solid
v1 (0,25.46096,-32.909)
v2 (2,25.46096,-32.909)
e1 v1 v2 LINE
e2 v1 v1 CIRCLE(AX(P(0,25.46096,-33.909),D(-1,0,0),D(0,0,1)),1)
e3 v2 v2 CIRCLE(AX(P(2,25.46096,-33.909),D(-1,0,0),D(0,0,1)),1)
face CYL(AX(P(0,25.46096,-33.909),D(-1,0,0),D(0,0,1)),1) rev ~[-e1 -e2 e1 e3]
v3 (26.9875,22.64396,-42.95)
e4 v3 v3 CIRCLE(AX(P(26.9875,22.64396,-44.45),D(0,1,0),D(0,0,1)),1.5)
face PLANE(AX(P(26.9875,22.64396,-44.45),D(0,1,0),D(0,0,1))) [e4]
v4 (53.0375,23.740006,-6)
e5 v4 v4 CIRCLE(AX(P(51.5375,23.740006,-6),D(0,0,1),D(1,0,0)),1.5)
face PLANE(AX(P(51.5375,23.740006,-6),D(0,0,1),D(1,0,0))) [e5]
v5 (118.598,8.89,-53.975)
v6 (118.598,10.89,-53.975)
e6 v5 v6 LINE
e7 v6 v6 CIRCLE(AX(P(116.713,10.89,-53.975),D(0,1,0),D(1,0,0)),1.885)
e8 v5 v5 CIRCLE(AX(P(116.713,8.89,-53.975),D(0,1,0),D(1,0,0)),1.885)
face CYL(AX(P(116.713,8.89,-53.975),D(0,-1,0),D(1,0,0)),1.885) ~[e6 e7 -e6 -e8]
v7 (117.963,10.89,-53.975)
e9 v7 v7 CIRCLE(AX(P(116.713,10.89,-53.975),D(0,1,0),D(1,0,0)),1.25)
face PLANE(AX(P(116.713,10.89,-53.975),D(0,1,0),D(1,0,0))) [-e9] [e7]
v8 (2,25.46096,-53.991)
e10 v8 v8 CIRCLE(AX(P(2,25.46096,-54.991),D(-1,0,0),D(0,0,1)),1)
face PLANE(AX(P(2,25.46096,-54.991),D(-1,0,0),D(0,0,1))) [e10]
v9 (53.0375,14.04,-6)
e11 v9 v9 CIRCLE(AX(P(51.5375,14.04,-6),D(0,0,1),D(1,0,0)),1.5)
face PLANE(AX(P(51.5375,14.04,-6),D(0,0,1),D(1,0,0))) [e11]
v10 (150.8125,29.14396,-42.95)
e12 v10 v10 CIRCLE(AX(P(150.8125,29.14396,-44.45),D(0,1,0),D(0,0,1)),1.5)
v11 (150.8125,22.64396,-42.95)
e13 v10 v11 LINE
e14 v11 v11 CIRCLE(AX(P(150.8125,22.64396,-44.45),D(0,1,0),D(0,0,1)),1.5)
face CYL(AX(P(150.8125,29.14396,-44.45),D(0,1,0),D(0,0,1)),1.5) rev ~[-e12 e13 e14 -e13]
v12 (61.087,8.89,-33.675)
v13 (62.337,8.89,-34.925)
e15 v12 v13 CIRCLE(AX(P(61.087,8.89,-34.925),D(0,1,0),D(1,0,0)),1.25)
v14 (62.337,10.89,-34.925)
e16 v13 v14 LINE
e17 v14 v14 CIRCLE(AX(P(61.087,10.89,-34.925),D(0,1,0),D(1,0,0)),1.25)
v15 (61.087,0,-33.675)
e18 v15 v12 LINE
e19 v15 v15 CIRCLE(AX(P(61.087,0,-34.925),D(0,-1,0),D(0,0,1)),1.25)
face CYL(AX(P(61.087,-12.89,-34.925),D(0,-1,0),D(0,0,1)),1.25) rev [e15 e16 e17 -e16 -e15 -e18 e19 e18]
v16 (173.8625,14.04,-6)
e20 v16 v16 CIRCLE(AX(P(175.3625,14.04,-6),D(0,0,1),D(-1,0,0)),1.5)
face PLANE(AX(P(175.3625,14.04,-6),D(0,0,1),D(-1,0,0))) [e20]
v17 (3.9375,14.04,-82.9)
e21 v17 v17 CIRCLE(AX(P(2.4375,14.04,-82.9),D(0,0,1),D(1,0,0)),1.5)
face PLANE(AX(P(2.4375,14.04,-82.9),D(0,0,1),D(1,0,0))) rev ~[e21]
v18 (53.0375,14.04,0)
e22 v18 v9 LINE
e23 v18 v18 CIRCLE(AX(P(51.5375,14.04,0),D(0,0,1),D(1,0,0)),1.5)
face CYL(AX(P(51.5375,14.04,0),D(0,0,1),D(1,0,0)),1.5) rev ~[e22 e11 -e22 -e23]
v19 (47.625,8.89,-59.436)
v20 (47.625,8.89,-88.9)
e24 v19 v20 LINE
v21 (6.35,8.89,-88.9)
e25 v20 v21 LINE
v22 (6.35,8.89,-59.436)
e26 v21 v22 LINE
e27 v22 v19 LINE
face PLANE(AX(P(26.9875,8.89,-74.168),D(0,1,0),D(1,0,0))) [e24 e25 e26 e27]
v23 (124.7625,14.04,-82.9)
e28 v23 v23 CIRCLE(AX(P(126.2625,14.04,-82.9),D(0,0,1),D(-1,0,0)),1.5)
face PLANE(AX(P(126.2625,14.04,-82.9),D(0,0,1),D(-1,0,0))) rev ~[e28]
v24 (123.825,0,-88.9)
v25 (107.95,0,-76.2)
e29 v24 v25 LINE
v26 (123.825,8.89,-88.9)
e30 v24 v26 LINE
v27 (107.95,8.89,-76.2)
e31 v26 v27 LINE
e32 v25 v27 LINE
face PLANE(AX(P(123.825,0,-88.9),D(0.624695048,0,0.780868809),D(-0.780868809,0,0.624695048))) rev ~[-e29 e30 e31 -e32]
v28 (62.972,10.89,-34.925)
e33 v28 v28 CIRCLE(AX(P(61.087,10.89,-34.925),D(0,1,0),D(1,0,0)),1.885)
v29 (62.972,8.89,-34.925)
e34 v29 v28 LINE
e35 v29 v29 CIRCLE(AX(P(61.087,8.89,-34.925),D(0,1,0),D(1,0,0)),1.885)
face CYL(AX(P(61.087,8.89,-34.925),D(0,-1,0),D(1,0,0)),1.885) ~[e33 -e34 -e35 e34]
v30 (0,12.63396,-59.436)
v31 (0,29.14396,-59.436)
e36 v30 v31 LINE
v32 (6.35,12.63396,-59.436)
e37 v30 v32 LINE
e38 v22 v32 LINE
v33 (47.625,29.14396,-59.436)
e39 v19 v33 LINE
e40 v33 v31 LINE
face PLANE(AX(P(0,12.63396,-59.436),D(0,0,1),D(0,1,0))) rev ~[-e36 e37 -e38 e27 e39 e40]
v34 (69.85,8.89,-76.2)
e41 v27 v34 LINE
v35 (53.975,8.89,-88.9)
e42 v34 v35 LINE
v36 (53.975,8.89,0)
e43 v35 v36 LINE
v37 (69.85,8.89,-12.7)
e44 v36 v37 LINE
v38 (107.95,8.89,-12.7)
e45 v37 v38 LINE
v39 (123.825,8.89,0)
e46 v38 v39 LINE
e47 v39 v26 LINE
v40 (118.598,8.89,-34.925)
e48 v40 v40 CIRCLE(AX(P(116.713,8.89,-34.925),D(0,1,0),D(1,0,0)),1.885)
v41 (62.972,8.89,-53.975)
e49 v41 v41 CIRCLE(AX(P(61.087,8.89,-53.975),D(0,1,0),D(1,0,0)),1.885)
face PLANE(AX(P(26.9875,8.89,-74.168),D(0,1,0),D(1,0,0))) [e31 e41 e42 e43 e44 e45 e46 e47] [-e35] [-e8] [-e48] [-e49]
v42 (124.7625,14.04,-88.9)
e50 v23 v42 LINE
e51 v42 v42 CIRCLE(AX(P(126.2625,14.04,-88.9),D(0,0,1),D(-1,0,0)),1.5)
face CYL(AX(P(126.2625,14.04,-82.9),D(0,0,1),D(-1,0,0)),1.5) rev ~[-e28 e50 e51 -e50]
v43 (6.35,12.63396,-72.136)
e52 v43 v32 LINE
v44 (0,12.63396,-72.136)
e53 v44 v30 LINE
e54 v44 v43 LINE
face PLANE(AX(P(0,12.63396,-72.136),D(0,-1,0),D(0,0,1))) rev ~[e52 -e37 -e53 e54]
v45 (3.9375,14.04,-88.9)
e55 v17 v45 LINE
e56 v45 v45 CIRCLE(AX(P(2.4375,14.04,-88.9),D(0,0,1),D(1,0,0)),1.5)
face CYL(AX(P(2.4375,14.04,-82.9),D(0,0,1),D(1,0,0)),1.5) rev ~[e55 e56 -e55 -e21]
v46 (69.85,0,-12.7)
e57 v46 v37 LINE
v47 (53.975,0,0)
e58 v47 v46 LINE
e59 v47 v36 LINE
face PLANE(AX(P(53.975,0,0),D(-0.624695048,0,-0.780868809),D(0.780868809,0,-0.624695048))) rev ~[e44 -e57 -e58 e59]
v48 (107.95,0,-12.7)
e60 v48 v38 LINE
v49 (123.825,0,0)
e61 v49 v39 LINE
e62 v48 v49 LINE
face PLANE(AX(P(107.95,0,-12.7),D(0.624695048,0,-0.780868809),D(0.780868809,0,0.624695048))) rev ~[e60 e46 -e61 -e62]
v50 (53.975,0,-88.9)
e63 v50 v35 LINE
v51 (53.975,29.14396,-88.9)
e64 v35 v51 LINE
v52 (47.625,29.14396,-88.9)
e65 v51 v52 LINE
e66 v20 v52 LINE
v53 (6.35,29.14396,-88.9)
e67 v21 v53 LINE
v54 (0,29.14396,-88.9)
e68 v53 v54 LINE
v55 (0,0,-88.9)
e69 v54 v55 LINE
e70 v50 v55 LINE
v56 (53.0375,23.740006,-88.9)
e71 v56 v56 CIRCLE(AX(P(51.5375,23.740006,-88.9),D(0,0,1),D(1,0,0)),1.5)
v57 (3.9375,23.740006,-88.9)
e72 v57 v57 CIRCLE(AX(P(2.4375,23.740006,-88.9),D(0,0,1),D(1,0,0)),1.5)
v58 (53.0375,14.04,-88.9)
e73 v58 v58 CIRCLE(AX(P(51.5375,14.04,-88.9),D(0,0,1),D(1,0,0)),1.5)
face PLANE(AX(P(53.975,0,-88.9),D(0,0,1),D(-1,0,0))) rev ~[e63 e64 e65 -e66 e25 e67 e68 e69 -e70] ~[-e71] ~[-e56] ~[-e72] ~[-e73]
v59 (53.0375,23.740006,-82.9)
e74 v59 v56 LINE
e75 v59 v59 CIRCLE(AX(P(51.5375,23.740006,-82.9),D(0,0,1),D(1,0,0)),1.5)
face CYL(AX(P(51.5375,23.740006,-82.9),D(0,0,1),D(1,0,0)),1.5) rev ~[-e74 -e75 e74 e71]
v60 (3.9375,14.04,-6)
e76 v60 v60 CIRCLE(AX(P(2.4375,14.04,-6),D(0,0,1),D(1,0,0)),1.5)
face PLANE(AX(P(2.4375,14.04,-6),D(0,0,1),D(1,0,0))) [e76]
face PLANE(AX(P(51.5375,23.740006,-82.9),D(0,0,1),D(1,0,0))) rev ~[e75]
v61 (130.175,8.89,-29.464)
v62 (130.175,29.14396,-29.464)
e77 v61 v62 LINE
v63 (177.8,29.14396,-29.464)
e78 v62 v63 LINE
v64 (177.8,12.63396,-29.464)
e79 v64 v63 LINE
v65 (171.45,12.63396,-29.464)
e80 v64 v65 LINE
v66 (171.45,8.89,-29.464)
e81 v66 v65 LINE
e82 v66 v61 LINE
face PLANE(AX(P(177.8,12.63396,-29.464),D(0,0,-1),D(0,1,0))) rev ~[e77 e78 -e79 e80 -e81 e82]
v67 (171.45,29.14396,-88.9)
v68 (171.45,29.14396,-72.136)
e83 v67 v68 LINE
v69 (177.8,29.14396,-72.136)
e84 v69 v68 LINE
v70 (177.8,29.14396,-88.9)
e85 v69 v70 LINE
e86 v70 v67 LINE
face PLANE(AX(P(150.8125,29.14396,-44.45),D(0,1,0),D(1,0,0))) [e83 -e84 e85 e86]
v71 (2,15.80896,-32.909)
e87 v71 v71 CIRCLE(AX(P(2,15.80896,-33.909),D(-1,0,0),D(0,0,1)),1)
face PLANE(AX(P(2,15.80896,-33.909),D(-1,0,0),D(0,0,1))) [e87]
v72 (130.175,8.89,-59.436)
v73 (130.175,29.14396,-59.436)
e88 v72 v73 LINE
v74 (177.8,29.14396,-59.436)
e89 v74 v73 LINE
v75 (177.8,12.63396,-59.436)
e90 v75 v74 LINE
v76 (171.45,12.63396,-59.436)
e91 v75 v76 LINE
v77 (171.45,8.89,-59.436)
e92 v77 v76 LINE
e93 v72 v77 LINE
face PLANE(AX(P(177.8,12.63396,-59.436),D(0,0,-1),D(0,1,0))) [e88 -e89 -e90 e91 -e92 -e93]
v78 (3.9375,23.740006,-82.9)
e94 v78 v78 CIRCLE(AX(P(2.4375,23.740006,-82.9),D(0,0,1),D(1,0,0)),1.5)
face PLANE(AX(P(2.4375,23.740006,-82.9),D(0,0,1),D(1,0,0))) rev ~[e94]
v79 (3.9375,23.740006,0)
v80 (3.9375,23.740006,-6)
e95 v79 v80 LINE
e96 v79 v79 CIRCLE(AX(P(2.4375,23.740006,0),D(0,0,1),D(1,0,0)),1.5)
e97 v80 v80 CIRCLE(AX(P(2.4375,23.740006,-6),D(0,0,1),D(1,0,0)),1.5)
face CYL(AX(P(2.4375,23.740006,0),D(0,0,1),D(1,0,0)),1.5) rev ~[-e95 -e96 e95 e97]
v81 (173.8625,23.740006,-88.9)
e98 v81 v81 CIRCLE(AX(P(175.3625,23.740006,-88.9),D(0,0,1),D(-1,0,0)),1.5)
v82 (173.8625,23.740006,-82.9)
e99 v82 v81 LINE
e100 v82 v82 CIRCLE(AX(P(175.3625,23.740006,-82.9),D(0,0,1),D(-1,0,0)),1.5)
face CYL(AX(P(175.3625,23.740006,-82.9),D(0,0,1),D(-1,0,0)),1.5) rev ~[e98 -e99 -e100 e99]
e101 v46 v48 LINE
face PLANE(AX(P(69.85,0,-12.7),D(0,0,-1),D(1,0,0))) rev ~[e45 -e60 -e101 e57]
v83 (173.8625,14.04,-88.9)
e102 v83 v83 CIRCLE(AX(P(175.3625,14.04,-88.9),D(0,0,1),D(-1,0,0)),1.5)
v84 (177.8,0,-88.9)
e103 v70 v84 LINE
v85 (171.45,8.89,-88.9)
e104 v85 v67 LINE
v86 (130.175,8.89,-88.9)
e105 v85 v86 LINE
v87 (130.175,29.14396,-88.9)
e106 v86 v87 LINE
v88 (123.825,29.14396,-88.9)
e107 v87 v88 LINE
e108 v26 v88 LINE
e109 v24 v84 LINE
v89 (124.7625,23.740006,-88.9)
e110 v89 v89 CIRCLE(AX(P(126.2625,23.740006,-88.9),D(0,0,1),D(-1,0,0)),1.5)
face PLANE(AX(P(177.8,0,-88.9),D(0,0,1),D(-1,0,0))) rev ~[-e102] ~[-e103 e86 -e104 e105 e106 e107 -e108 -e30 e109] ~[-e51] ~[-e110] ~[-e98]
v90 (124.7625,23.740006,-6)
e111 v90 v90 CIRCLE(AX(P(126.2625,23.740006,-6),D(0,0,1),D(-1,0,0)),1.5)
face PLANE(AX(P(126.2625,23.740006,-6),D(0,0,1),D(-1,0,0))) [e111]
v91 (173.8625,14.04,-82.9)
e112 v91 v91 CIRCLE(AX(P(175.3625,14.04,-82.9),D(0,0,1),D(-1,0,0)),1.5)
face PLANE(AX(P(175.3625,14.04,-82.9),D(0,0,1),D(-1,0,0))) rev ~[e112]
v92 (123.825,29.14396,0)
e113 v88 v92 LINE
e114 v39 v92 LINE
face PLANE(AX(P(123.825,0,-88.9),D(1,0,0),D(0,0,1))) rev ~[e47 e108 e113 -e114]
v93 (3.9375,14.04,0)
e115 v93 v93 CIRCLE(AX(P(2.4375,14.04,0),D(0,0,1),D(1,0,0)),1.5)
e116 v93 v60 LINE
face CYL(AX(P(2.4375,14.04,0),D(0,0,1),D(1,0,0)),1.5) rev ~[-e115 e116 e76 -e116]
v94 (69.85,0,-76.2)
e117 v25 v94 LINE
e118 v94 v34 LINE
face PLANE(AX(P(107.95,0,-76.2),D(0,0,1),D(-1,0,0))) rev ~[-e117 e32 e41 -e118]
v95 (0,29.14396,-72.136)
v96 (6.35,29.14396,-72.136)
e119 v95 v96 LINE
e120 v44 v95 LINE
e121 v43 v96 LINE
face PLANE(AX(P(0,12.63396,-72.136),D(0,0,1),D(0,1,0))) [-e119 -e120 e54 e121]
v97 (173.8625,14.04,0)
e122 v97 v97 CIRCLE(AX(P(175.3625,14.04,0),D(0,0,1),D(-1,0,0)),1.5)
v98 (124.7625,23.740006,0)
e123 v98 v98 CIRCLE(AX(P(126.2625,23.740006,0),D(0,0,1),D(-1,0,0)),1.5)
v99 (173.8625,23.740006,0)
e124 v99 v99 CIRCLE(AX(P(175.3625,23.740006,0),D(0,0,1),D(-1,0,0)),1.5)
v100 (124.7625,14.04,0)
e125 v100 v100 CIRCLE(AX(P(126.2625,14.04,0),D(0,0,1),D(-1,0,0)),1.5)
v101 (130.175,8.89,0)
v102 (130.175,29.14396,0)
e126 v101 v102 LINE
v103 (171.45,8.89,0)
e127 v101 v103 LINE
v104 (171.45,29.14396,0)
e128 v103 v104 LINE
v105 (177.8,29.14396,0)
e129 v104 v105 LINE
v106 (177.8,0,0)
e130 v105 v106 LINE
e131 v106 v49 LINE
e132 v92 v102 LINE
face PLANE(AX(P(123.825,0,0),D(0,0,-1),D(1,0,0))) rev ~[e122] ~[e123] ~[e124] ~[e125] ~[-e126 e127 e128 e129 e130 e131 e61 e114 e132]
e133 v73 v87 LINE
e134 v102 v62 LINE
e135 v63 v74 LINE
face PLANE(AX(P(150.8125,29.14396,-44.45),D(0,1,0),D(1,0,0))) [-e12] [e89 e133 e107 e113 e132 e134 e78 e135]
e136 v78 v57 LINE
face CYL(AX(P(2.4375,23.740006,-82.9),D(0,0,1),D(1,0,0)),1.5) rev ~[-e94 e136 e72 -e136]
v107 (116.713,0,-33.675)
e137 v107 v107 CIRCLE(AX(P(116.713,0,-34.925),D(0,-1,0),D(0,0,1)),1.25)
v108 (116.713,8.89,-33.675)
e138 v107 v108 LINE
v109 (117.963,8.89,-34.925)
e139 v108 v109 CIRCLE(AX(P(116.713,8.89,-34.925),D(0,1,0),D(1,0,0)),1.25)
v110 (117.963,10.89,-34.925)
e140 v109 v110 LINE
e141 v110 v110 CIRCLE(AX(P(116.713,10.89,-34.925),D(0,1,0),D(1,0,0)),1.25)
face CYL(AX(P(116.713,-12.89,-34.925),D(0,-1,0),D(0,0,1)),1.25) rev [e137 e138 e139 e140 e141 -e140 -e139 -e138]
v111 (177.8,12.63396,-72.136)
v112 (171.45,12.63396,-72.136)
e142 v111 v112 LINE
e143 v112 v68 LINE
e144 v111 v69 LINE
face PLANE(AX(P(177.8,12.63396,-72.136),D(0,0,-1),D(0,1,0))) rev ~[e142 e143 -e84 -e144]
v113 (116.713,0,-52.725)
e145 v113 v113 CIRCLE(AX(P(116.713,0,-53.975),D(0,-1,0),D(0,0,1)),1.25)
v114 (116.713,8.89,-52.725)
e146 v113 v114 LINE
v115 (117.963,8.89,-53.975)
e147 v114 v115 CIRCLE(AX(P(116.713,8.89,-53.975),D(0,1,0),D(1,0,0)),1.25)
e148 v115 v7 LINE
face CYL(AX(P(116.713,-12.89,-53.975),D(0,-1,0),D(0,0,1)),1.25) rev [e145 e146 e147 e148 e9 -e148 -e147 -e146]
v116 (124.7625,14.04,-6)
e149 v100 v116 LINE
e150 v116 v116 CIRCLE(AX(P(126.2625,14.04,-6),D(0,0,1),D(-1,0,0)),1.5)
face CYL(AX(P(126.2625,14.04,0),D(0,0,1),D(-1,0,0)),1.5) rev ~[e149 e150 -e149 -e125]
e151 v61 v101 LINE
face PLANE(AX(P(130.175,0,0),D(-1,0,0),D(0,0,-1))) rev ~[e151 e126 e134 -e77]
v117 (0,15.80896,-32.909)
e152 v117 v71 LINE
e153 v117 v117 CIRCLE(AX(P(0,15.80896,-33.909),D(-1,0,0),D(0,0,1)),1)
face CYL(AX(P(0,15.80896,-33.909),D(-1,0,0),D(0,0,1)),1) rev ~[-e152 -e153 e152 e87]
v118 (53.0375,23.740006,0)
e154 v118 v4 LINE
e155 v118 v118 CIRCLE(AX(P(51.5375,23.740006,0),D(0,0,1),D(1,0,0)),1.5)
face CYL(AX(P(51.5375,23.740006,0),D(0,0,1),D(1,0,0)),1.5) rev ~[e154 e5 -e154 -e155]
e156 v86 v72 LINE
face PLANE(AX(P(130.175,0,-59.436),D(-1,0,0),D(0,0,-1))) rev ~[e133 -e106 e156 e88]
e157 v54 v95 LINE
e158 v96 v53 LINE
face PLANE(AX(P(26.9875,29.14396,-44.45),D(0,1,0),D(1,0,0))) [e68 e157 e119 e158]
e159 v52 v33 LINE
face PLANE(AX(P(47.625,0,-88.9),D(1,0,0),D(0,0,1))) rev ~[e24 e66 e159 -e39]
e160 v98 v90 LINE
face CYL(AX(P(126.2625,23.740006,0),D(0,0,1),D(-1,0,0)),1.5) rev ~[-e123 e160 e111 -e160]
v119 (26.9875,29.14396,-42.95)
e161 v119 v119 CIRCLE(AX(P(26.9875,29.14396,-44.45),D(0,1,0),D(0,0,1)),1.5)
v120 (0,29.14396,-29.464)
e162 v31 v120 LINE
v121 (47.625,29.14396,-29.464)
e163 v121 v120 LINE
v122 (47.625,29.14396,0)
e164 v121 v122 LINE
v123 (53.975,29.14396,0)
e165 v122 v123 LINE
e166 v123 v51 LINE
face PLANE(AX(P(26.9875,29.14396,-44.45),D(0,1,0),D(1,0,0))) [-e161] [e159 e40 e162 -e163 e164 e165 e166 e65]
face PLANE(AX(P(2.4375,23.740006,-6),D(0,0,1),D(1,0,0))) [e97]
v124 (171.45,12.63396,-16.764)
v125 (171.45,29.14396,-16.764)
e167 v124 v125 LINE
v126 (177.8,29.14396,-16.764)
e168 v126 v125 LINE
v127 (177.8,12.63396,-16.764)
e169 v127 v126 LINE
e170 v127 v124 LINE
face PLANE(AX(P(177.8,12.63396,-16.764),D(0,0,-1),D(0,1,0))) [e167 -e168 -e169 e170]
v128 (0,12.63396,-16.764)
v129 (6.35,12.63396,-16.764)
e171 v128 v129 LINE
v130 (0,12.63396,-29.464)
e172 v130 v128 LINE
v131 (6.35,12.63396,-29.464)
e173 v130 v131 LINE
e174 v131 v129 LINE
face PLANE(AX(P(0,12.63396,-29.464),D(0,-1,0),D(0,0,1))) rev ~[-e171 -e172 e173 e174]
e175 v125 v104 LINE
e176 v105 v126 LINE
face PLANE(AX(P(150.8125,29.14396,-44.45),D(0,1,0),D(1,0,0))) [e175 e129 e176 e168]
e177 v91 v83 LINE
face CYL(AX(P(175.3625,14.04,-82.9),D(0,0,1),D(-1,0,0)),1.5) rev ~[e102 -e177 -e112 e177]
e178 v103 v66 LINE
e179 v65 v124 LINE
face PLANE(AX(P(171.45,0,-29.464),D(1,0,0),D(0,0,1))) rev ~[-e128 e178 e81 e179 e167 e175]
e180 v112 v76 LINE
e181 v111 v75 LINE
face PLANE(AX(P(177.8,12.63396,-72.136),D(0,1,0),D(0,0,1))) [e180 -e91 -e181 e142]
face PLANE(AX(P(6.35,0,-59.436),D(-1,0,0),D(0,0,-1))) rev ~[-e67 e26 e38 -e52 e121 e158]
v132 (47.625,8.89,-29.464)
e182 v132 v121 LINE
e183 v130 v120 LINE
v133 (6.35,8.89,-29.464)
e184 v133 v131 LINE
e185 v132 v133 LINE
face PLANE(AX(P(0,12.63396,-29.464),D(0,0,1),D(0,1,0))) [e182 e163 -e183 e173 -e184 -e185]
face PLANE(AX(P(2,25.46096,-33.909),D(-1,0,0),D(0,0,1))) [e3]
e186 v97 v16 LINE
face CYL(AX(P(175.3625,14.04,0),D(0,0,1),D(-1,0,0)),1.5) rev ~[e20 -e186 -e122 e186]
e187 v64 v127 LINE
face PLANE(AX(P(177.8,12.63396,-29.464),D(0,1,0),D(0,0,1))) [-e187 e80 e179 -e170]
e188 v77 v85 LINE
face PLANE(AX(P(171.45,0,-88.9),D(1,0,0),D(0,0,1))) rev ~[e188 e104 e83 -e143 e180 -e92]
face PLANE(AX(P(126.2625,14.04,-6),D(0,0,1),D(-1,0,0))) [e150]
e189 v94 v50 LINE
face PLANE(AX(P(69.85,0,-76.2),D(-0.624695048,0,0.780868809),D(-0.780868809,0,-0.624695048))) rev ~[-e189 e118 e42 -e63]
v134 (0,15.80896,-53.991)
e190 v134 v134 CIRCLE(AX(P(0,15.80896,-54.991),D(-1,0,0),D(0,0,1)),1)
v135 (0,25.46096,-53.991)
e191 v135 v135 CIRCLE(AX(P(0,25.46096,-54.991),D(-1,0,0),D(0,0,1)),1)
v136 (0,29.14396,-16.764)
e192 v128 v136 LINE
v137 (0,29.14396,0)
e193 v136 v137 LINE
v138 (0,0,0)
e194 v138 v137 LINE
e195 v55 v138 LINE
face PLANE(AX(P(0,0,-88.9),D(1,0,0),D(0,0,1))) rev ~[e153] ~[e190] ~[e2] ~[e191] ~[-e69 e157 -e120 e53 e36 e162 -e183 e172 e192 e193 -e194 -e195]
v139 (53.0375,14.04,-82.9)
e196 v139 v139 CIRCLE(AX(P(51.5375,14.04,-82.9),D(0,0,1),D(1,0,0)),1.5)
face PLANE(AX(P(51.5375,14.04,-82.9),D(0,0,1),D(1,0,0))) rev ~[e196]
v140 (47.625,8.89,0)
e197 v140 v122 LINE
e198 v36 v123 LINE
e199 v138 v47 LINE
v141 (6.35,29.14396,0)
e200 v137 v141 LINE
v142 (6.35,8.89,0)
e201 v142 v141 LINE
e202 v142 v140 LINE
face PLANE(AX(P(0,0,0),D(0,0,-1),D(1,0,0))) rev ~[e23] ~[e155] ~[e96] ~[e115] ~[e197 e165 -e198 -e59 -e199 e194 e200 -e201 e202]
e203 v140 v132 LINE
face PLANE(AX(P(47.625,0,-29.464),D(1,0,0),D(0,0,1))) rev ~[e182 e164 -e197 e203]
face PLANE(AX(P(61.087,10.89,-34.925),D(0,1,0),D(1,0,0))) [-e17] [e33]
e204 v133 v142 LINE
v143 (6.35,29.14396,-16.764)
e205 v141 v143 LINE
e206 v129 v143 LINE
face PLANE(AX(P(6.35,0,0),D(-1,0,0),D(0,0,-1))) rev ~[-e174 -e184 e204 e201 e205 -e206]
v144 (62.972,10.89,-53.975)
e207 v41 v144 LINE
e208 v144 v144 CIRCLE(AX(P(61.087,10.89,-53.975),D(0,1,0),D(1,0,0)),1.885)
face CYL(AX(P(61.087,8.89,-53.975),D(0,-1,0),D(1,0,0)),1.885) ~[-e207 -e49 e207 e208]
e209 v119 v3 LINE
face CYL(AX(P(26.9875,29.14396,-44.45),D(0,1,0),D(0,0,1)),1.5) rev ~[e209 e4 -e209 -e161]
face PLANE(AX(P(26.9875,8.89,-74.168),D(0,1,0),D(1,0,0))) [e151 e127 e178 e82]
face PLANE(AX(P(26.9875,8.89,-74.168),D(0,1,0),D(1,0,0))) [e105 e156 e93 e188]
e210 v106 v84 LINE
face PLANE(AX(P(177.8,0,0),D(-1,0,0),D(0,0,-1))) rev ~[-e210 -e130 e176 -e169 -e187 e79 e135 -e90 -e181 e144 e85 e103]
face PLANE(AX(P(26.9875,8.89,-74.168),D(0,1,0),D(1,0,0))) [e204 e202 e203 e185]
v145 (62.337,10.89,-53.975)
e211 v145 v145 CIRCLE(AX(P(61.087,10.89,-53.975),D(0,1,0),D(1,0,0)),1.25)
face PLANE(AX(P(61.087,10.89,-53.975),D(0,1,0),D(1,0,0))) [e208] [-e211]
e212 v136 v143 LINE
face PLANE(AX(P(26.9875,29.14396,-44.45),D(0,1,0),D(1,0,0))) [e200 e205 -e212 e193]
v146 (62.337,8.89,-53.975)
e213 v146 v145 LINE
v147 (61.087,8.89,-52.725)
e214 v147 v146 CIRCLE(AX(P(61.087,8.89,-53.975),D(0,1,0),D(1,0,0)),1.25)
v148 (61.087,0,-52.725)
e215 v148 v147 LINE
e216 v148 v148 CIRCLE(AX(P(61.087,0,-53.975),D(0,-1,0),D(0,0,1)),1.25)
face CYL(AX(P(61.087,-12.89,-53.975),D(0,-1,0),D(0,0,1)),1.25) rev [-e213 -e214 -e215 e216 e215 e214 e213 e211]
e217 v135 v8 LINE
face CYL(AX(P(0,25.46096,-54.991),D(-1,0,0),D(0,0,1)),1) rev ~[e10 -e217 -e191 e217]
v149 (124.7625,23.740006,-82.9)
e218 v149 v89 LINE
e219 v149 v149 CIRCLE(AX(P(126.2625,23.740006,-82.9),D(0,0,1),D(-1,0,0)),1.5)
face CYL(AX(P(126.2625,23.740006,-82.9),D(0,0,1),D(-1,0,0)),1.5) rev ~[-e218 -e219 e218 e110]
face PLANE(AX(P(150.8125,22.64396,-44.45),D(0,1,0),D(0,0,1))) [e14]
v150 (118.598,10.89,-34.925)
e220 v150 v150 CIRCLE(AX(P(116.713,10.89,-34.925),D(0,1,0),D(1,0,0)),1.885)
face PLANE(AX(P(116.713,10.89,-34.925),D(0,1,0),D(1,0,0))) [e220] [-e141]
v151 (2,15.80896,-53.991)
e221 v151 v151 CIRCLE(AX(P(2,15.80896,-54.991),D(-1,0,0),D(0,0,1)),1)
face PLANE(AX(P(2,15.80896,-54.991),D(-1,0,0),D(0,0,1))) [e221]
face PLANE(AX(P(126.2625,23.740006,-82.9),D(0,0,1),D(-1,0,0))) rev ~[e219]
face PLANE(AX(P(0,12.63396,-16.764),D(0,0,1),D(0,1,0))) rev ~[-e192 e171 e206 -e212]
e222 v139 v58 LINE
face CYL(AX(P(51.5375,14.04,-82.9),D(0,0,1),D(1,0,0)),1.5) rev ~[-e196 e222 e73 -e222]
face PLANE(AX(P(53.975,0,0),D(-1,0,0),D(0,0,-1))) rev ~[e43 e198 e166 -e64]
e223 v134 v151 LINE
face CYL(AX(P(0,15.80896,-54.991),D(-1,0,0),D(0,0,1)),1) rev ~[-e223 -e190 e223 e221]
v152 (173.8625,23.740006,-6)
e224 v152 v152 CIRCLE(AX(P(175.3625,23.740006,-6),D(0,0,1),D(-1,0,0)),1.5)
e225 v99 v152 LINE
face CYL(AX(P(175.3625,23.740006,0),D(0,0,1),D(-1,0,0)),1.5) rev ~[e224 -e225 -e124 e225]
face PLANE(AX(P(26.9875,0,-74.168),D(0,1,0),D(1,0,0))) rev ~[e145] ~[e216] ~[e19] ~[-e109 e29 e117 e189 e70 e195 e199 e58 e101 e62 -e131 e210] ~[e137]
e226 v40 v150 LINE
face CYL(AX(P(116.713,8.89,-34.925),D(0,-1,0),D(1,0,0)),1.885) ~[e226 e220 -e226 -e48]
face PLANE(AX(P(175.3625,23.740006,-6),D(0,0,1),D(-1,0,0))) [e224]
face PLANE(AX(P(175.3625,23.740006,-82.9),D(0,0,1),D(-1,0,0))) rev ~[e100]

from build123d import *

# Parameters (mm, degrees)
SKETCH2_W           = 41.275
SKETCH2_H           = 29.464
BOSS_EXTRUDE1_DEPTH = 8.89
BOSS_EXTRUDE2_DEPTH = 29.14396
SKETCH6_R           = 1.5
CUT_EXTRUDE1_DEPTH  = 6.5
SKETCH7_R           = 1.5
CUT_EXTRUDE2_DEPTH  = 6
SKETCH8_R           = 1.885
SKETCH8_R_2         = 1.25
EXTRUDE_THIN1_DEPTH = 2
CUT_EXTRUDE3_START  = -21.78
SKETCH8_3_R         = 1.25
CUT_EXTRUDE3_DEPTH  = 21.78
CUT_EXTRUDE4_START  = -82.9
SKETCH7_2_R         = 1.5
CUT_EXTRUDE4_DEPTH  = 6
SKETCH9_W           = 12.7
SKETCH9_H           = 16.51
CUT_EXTRUDE5_DEPTH  = 6.35
CUT_EXTRUDE6_START  = -177.8
SKETCH9_2_W         = 12.7
SKETCH9_2_H         = 16.51
CUT_EXTRUDE6_DEPTH  = 6.35
SKETCH10_R          = 1
CUT_EXTRUDE8_DEPTH  = 2


with BuildPart() as part:
    # Sketch2 → Boss-Extrude1 (new body)
    with BuildSketch(Plane(origin=(0, 0, 0), x_dir=(1, 0, 0), z_dir=(0, 1, 0))):
        with Locations((26.9875, 74.168)):
            Rectangle(SKETCH2_W, SKETCH2_H)
        with Locations((26.9875, 14.732)):
            Rectangle(SKETCH2_W, SKETCH2_H)
        Polygon((0, 88.9), (0, 0), (6.35, 0), (6.35, 29.464), (47.625, 29.464), (47.625, 0), (53.975, 0), (53.975, 12.7), (53.975, 76.2), (53.975, 88.9), (47.625, 88.9), (47.625, 59.436), (6.35, 59.436), (6.35, 88.9), align=None)
        Polygon((53.975, 12.7), (69.85, 12.7), (107.95, 12.7), (123.825, 12.7), (123.825, 76.2), (107.95, 76.2), (69.85, 76.2), (53.975, 76.2), align=None)
        Polygon((53.975, 12.7), (53.975, 0), (69.85, 12.7), align=None)
        Polygon((107.95, 12.7), (123.825, 0), (123.825, 12.7), align=None)
        Polygon((123.825, 12.7), (123.825, 0), (130.175, 0), (130.175, 29.464), (171.45, 29.464), (171.45, 0), (177.8, 0), (177.8, 88.9), (171.45, 88.9), (171.45, 59.436), (130.175, 59.436), (130.175, 88.9), (123.825, 88.9), (123.825, 76.2), align=None)
        with Locations((150.8125, 14.732)):
            Rectangle(SKETCH2_W, SKETCH2_H)
        with Locations((150.8125, 74.168)):
            Rectangle(SKETCH2_W, SKETCH2_H)
        Polygon((123.825, 76.2), (123.825, 88.9), (107.95, 76.2), align=None)
        Polygon((69.85, 76.2), (53.975, 88.9), (53.975, 76.2), align=None)
    extrude(amount=BOSS_EXTRUDE1_DEPTH)

    # Sketch2<3> → Boss-Extrude2 (add)
    with BuildSketch(Plane(origin=(0, 0, 0), x_dir=(1, 0, 0), z_dir=(0, 1, 0))):
        Polygon((0, 88.9), (0, 0), (6.35, 0), (6.35, 29.464), (47.625, 29.464), (47.625, 0), (53.975, 0), (53.975, 12.7), (53.975, 76.2), (53.975, 88.9), (47.625, 88.9), (47.625, 59.436), (6.35, 59.436), (6.35, 88.9), align=None)
        Polygon((123.825, 12.7), (123.825, 0), (130.175, 0), (130.175, 29.464), (171.45, 29.464), (171.45, 0), (177.8, 0), (177.8, 88.9), (171.45, 88.9), (171.45, 59.436), (130.175, 59.436), (130.175, 88.9), (123.825, 88.9), (123.825, 76.2), align=None)
    extrude(amount=BOSS_EXTRUDE2_DEPTH)

    # Sketch6 → Cut-Extrude1 (cut)
    with BuildSketch(Plane(origin=(0, 29.14396, 0), x_dir=(1, 0, 0), z_dir=(0, 1, 0))):
        with Locations(Location((26.9875, 44.45, 0), (0, 0, 270))):
            Circle(SKETCH6_R)
        with Locations(Location((150.8125, 44.45, 0), (0, 0, 270))):
            Circle(SKETCH6_R)
    extrude(amount=-CUT_EXTRUDE1_DEPTH, mode=Mode.SUBTRACT)

    # Sketch7 → Cut-Extrude2 (cut)
    with BuildSketch(Plane.XY):
        with Locations((2.4375, 14.04)):
            Circle(SKETCH7_R)
        with Locations((51.5375, 14.04)):
            Circle(SKETCH7_R)
        with Locations((2.4375, 23.740006)):
            Circle(SKETCH7_R)
        with Locations((51.5375, 23.740006)):
            Circle(SKETCH7_R)
        with Locations(Location((126.2625, 23.740006, 0), (0, 0, 180))):
            Circle(SKETCH7_R)
        with Locations(Location((175.3625, 23.740006, 0), (0, 0, 180))):
            Circle(SKETCH7_R)
        with Locations(Location((126.2625, 14.04, 0), (0, 0, 180))):
            Circle(SKETCH7_R)
        with Locations(Location((175.3625, 14.04, 0), (0, 0, 180))):
            Circle(SKETCH7_R)
    extrude(amount=-CUT_EXTRUDE2_DEPTH, mode=Mode.SUBTRACT)

    # Sketch8 → Extrude-Thin1 (add)
    # profile 1 of 4: a face of its own
    with BuildSketch(Plane(origin=(0, 8.89, 0), x_dir=(1, 0, 0), z_dir=(0, 1, 0))):
        with Locations((61.087, 53.975)):
            Circle(SKETCH8_R)
        with Locations((61.087, 53.975)):
            Circle(SKETCH8_R_2, mode=Mode.SUBTRACT)
    # profile 2 of 4: a face of its own
    with BuildSketch(Plane(origin=(0, 8.89, 0), x_dir=(1, 0, 0), z_dir=(0, 1, 0))):
        with Locations((61.087, 34.925)):
            Circle(SKETCH8_R)
        with Locations((61.087, 34.925)):
            Circle(SKETCH8_R_2, mode=Mode.SUBTRACT)
    # profile 3 of 4: a face of its own
    with BuildSketch(Plane(origin=(0, 8.89, 0), x_dir=(1, 0, 0), z_dir=(0, 1, 0))):
        with Locations((116.713, 34.925)):
            Circle(SKETCH8_R)
        with Locations((116.713, 34.925)):
            Circle(SKETCH8_R_2, mode=Mode.SUBTRACT)
    # profile 4 of 4: a face of its own
    with BuildSketch(Plane(origin=(0, 8.89, 0), x_dir=(1, 0, 0), z_dir=(0, 1, 0))):
        with Locations((116.713, 53.975)):
            Circle(SKETCH8_R)
        with Locations((116.713, 53.975)):
            Circle(SKETCH8_R_2, mode=Mode.SUBTRACT)
    extrude(amount=EXTRUDE_THIN1_DEPTH)

    # Sketch8<3> → Cut-Extrude3 (cut)
    with BuildSketch(Plane(origin=(0, 8.89, 0), x_dir=(1, 0, 0), z_dir=(0, 1, 0)).offset(CUT_EXTRUDE3_START)):
        with Locations(Location((61.087, 53.975, 0), (0, 0, 270))):
            Circle(SKETCH8_3_R)
        with Locations(Location((61.087, 34.925, 0), (0, 0, 270))):
            Circle(SKETCH8_3_R)
        with Locations(Location((116.713, 34.925, 0), (0, 0, 270))):
            Circle(SKETCH8_3_R)
        with Locations(Location((116.713, 53.975, 0), (0, 0, 270))):
            Circle(SKETCH8_3_R)
    extrude(amount=CUT_EXTRUDE3_DEPTH, mode=Mode.SUBTRACT)

    # Sketch7<2> → Cut-Extrude4 (cut)
    with BuildSketch(Plane.XY.offset(CUT_EXTRUDE4_START)):
        with Locations((2.4375, 14.04)):
            Circle(SKETCH7_2_R)
        with Locations((51.5375, 14.04)):
            Circle(SKETCH7_2_R)
        with Locations((2.4375, 23.740006)):
            Circle(SKETCH7_2_R)
        with Locations((51.5375, 23.740006)):
            Circle(SKETCH7_2_R)
        with Locations(Location((126.2625, 23.740006, 0), (0, 0, 180))):
            Circle(SKETCH7_2_R)
        with Locations(Location((175.3625, 23.740006, 0), (0, 0, 180))):
            Circle(SKETCH7_2_R)
        with Locations(Location((126.2625, 14.04, 0), (0, 0, 180))):
            Circle(SKETCH7_2_R)
        with Locations(Location((175.3625, 14.04, 0), (0, 0, 180))):
            Circle(SKETCH7_2_R)
    extrude(amount=-CUT_EXTRUDE4_DEPTH, mode=Mode.SUBTRACT)

    # Sketch9 → Cut-Extrude5 (cut)
    with BuildSketch(Plane.ZY):
        with Locations((-23.114, 20.88896)):
            Rectangle(SKETCH9_W, SKETCH9_H)
        with Locations((-65.786, 20.88896)):
            Rectangle(SKETCH9_W, SKETCH9_H)
    extrude(amount=-CUT_EXTRUDE5_DEPTH, mode=Mode.SUBTRACT)

    # Sketch9<2> → Cut-Extrude6 (cut)
    with BuildSketch(Plane.ZY.offset(CUT_EXTRUDE6_START)):
        with Locations((-23.114, 20.88896)):
            Rectangle(SKETCH9_2_W, SKETCH9_2_H)
        with Locations((-65.786, 20.88896)):
            Rectangle(SKETCH9_2_W, SKETCH9_2_H)
    extrude(amount=CUT_EXTRUDE6_DEPTH, mode=Mode.SUBTRACT)

    # Sketch10 → Cut-Extrude8 (cut)
    with BuildSketch(Plane.ZY):
        with Locations((-54.991, 25.46096)):
            Circle(SKETCH10_R)
        with Locations((-33.909, 25.46096)):
            Circle(SKETCH10_R)
        with Locations((-33.909, 15.80896)):
            Circle(SKETCH10_R)
        with Locations((-54.991, 15.80896)):
            Circle(SKETCH10_R)
    extrude(amount=-CUT_EXTRUDE8_DEPTH, mode=Mode.SUBTRACT)


solid = part.part
